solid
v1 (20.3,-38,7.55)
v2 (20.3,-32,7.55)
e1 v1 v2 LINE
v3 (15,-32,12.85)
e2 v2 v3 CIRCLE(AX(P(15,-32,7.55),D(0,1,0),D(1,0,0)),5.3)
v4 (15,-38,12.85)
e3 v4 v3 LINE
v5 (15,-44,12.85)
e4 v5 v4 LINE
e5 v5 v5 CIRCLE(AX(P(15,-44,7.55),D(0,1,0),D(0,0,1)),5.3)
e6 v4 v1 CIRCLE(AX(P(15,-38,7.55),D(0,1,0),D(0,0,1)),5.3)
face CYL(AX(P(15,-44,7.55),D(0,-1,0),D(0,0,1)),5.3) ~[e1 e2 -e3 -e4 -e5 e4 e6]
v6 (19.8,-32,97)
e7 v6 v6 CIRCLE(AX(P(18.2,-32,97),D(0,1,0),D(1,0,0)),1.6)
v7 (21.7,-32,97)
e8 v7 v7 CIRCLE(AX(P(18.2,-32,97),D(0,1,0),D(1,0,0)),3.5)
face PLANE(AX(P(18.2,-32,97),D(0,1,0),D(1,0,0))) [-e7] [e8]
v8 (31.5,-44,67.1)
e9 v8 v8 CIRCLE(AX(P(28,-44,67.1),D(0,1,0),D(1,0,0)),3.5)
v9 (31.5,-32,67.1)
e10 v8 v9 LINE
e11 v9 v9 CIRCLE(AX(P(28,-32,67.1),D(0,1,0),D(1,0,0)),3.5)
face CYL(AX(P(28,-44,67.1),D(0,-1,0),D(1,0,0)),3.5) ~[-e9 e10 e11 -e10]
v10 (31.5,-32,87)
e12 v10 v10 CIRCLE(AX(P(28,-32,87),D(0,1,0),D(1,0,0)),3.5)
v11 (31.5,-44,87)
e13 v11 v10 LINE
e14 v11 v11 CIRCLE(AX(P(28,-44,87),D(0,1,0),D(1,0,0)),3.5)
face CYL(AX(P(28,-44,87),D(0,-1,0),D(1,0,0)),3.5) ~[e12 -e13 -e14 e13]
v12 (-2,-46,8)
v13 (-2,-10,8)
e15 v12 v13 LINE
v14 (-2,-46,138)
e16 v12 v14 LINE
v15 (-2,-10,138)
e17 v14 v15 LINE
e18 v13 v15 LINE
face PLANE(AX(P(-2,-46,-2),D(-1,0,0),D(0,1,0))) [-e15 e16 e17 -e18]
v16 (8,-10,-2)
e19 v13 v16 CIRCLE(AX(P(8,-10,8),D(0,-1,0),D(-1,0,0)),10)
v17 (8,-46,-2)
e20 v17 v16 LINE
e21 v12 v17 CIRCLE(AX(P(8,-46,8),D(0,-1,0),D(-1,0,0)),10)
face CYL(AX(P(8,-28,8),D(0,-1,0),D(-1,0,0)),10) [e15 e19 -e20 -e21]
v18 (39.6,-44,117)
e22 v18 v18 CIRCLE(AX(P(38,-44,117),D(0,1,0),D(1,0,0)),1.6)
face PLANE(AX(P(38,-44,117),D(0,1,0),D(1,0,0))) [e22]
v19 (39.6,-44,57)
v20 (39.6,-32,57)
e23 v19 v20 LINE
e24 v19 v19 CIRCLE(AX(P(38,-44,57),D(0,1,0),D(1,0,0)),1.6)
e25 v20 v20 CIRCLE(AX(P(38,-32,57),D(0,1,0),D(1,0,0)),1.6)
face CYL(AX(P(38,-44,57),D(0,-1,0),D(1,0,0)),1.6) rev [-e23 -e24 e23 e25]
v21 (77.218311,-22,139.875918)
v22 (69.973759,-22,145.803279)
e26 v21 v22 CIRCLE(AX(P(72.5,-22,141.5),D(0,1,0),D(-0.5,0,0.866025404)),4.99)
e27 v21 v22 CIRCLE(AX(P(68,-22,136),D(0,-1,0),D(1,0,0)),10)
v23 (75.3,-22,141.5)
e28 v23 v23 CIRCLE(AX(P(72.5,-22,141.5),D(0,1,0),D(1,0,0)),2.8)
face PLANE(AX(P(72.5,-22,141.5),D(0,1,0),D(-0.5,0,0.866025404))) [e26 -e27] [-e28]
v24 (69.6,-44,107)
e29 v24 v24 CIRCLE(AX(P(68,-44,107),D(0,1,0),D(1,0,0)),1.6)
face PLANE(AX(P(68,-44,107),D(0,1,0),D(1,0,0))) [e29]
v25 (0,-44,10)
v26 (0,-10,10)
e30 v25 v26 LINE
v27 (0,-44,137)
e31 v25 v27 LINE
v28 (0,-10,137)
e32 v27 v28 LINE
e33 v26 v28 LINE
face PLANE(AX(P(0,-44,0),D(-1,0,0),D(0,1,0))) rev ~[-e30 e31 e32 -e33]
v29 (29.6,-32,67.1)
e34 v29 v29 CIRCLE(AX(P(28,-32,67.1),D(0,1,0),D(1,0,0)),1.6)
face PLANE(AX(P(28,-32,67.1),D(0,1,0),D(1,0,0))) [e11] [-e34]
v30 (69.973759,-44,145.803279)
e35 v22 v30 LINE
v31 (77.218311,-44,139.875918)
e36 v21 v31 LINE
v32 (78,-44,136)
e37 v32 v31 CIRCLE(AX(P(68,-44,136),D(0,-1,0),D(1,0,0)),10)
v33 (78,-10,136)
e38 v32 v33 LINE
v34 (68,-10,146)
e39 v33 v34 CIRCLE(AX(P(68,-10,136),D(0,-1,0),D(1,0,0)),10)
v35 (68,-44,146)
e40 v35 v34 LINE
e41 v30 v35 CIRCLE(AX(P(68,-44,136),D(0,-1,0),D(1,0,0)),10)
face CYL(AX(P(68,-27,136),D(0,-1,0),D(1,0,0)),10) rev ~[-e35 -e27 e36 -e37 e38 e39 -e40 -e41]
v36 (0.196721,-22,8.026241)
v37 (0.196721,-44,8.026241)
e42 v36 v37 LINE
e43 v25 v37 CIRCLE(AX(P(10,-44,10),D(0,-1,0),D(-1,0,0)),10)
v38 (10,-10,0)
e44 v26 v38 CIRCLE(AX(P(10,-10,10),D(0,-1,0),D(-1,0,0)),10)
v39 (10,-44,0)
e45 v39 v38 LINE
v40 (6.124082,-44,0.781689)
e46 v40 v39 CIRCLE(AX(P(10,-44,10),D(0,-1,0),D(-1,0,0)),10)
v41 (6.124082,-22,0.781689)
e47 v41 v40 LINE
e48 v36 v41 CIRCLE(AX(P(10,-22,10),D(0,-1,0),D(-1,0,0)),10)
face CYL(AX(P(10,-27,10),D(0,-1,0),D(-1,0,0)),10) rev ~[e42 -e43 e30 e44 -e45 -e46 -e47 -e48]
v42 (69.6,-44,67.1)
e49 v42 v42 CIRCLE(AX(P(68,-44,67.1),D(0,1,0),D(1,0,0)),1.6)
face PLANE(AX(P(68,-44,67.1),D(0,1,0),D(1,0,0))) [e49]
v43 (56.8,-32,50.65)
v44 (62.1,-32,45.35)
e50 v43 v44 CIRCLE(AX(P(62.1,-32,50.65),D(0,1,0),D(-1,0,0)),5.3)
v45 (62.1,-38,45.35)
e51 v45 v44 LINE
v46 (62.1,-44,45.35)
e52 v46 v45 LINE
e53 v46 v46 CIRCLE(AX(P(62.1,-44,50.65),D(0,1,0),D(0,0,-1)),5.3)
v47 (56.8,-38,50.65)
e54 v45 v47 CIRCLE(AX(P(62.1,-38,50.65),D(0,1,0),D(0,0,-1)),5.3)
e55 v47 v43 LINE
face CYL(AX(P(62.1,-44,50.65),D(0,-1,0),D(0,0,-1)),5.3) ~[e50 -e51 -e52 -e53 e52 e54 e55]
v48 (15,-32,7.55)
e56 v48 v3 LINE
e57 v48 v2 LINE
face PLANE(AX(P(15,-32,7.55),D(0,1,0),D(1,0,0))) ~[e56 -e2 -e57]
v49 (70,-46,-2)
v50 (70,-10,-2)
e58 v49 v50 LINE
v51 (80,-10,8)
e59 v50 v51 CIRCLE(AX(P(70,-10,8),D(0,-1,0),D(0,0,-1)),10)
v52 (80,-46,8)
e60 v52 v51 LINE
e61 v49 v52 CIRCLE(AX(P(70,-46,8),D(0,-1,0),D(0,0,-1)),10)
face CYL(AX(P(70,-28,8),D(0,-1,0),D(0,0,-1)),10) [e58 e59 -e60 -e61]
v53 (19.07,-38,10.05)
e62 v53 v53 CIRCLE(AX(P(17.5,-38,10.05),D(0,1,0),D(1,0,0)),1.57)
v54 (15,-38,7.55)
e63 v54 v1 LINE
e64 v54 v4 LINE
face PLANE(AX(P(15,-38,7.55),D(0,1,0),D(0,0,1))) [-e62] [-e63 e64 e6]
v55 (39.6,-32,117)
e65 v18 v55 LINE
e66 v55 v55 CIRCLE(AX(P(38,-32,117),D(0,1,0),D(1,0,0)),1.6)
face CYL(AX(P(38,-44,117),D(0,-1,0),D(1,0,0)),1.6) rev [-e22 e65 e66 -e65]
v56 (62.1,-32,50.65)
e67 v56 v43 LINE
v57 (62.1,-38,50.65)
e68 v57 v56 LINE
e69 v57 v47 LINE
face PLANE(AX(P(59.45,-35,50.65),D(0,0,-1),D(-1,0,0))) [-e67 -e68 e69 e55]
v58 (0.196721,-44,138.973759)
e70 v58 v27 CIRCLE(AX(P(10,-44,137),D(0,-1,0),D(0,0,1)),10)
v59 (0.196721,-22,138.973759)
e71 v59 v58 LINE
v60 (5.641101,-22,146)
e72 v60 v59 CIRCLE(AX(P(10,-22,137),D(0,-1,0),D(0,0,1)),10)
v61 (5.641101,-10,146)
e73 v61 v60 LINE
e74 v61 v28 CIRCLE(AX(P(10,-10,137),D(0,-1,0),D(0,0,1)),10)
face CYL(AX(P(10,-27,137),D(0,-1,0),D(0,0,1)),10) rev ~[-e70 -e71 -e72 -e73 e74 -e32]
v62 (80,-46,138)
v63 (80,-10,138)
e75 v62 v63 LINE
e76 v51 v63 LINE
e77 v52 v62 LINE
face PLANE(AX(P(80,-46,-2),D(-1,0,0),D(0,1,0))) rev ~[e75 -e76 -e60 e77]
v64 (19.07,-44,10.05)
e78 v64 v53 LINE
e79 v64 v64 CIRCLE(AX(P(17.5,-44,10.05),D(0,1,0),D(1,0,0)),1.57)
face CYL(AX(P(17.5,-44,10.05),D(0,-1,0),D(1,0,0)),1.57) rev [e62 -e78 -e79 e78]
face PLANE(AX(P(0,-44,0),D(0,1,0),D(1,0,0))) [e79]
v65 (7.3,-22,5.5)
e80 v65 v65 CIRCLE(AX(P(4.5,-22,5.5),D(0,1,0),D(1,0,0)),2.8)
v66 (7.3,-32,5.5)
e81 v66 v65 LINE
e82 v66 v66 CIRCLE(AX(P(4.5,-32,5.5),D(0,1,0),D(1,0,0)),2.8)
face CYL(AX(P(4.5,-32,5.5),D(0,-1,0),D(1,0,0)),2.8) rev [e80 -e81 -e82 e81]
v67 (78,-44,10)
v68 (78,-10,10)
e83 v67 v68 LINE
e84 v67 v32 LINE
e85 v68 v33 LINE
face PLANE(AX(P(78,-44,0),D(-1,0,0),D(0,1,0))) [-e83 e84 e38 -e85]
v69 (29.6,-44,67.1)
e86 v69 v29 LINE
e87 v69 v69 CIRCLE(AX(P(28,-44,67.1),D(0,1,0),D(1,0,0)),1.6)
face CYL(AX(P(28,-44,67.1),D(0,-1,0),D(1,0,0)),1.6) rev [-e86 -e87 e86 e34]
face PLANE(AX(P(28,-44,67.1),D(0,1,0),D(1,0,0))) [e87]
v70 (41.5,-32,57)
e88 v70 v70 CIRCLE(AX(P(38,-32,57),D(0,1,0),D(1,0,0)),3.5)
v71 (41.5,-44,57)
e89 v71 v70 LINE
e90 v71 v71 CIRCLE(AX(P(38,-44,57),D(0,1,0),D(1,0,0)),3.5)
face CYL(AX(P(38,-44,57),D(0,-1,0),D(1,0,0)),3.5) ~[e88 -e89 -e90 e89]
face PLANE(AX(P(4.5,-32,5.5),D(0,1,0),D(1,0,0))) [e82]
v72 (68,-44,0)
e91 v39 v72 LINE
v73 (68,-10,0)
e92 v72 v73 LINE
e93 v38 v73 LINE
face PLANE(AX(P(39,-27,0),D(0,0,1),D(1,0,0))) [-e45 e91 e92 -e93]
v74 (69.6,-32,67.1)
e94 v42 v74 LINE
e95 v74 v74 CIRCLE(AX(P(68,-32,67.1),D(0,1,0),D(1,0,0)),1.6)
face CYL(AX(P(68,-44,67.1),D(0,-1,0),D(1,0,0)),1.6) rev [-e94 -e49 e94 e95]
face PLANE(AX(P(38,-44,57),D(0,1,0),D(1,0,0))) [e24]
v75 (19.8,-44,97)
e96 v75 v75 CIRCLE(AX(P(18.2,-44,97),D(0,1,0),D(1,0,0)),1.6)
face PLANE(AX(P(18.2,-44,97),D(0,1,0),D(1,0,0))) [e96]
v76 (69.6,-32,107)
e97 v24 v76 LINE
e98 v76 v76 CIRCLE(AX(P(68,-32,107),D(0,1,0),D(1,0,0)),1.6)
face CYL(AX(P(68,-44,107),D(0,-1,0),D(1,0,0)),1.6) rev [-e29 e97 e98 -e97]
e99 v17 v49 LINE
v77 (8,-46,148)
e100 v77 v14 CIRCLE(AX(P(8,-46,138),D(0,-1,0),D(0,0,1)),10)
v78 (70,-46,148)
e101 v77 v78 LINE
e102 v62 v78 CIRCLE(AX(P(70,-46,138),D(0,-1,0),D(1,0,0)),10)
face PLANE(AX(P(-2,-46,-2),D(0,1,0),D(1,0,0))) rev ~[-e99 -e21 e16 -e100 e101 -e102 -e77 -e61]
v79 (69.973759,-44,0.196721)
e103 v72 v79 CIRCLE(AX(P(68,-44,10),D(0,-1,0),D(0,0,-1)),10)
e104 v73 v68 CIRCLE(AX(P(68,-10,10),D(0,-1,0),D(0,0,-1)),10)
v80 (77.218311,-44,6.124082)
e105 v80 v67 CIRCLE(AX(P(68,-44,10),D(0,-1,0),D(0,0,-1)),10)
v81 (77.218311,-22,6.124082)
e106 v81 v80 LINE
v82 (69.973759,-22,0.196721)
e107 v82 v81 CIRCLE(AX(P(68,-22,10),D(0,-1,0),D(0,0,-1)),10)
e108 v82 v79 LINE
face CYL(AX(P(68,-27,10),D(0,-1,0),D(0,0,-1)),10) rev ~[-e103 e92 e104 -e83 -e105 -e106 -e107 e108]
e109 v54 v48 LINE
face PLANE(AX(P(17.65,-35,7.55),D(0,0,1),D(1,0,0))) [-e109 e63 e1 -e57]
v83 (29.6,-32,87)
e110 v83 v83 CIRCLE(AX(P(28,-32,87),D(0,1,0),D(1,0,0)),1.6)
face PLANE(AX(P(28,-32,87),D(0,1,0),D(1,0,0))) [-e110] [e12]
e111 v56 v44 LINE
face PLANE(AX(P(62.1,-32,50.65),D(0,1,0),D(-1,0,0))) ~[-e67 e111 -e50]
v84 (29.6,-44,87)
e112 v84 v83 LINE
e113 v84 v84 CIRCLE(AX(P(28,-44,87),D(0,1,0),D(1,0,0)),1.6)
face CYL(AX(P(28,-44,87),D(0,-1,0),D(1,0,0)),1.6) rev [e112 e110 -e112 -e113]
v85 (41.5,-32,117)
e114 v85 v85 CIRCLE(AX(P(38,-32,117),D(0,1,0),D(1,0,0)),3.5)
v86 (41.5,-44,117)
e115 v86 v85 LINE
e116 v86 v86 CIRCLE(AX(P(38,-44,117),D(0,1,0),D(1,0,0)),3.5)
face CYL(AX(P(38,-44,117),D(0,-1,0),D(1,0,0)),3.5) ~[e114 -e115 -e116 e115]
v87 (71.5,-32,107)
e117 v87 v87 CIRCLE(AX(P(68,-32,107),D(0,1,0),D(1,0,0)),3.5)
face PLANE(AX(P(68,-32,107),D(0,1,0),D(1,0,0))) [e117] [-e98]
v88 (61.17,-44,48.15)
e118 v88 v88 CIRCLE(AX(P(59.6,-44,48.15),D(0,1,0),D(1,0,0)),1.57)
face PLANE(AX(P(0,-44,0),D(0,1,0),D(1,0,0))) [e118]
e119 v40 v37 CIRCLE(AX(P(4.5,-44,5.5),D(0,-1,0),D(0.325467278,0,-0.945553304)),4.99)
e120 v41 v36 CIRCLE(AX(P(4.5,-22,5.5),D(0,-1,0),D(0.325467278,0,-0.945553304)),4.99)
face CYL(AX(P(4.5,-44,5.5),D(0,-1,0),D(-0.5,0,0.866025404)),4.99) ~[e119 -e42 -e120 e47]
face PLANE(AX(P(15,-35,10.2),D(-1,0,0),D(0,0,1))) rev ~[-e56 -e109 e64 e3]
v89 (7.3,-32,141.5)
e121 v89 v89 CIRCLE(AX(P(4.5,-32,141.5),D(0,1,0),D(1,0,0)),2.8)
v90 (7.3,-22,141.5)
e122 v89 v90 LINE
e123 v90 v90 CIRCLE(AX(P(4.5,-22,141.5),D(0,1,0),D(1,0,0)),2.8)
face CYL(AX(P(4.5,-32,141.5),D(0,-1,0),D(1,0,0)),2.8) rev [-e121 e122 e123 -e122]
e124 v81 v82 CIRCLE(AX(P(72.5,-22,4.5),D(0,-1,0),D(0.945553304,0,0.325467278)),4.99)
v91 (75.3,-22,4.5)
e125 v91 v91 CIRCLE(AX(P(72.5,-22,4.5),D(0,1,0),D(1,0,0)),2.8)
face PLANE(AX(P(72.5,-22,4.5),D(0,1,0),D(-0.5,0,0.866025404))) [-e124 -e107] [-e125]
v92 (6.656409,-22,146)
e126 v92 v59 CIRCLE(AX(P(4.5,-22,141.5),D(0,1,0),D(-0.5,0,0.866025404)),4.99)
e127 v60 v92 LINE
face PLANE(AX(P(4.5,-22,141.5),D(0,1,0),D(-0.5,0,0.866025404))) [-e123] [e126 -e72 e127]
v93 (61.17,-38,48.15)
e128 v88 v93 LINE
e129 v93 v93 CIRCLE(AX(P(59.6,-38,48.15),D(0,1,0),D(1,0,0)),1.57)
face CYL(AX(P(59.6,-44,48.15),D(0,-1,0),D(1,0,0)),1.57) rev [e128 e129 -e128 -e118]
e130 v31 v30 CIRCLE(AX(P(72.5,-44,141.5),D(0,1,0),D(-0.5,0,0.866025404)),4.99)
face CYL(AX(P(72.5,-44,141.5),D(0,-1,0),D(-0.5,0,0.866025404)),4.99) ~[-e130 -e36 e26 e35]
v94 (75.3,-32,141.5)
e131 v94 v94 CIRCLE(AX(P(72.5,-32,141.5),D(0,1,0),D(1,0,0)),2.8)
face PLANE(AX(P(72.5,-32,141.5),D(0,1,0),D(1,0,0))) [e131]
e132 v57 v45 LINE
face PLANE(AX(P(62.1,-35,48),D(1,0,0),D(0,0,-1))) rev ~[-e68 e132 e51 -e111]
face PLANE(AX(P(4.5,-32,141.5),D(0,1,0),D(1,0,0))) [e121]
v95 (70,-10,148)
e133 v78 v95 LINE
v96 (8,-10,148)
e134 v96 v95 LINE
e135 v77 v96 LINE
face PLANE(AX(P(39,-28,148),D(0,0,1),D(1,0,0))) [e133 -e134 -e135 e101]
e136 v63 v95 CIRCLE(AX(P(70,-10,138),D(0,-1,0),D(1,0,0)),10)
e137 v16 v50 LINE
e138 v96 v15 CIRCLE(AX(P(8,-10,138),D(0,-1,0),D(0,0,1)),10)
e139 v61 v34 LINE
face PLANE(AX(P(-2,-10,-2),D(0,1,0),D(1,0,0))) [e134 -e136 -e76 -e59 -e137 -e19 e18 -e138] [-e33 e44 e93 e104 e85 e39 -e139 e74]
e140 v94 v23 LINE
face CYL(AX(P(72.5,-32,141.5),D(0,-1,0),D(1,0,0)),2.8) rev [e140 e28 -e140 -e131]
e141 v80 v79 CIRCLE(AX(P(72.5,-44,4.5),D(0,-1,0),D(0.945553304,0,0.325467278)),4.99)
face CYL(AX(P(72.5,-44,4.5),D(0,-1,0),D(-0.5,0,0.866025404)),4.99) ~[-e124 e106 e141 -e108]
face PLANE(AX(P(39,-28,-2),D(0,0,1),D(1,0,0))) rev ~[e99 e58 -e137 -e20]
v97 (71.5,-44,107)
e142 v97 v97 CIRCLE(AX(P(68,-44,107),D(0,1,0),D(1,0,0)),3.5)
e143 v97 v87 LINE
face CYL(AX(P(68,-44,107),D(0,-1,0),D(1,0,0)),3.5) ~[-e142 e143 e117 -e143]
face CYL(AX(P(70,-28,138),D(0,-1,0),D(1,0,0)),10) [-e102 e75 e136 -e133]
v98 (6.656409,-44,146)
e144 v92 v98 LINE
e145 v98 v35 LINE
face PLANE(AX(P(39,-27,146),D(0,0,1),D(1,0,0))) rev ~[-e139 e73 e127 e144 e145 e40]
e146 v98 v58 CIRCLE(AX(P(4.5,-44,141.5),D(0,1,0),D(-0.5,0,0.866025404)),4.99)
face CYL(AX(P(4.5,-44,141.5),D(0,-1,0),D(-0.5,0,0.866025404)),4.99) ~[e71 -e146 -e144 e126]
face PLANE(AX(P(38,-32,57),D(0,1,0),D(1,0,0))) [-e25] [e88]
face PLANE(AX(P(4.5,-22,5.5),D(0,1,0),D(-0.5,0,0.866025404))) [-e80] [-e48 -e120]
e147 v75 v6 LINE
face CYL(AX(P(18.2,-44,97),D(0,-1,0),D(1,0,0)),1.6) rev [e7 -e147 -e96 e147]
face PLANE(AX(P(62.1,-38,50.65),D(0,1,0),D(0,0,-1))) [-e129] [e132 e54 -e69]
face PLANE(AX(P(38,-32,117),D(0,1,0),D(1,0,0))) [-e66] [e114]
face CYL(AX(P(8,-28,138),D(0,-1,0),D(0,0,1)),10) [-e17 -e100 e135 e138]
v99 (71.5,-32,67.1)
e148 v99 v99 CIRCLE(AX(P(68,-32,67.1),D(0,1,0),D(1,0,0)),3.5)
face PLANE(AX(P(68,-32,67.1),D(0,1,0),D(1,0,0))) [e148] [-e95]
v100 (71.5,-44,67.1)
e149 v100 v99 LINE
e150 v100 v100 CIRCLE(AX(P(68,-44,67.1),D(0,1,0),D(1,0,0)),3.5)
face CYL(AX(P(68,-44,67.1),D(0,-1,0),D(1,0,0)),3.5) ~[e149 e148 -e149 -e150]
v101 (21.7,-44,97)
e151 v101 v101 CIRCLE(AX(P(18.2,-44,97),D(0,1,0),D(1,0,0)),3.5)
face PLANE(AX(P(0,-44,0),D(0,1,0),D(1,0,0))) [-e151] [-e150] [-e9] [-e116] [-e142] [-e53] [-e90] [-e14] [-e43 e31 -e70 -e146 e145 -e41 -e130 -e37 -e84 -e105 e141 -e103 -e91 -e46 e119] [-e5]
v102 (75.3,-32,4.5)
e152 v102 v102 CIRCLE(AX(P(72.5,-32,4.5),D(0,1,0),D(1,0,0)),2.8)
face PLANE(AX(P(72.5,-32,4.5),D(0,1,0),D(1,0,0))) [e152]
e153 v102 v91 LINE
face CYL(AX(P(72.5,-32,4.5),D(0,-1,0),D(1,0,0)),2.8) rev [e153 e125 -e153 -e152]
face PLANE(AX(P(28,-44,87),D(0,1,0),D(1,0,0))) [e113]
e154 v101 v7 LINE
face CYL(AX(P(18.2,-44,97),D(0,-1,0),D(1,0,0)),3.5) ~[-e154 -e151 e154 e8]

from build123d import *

# Parameters (mm, degrees)
CYLINDER075_R               = 2.8
CYLINDER075_DEPTH           = 10
CYLINDER074_R               = 4.99
CYLINDER074_DEPTH           = 22
CYLINDER074_ROLL_ANGLE      = 90
CYLINDER074_PITCH_ANGLE     = -60
CYLINDER074_PLACEMENT_ANGLE = 180
CYLINDER077_R               = 2.8
CYLINDER077_DEPTH           = 10
CYLINDER076_R               = 4.99
CYLINDER076_DEPTH           = 22
CYLINDER076_ROLL_ANGLE      = 90
CYLINDER076_PITCH_ANGLE     = -60
CYLINDER076_PLACEMENT_ANGLE = 180
CYLINDER079_R               = 2.8
CYLINDER079_DEPTH           = 10
CYLINDER078_R               = 4.99
CYLINDER078_DEPTH           = 22
CYLINDER078_ROLL_ANGLE      = 90
CYLINDER078_PITCH_ANGLE     = -60
CYLINDER078_PLACEMENT_ANGLE = 180
CYLINDER054_R               = 1.6
CYLINDER054_DEPTH           = 12
CYLINDER055_R               = 1.6
CYLINDER055_DEPTH           = 12
CYLINDER056_R               = 1.6
CYLINDER056_DEPTH           = 12
CYLINDER057_R               = 1.6
CYLINDER057_DEPTH           = 12
CYLINDER058_R               = 1.6
CYLINDER058_DEPTH           = 12
CYLINDER059_R               = 1.6
CYLINDER059_DEPTH           = 12
CYLINDER060_R               = 1.6
CYLINDER060_DEPTH           = 12
CYLINDER061_R               = 1.6
CYLINDER061_DEPTH           = 12
CYLINDER062_R               = 3.5
CYLINDER062_DEPTH           = 12
CYLINDER063_R               = 3.5
CYLINDER063_DEPTH           = 12
CYLINDER064_R               = 3.5
CYLINDER064_DEPTH           = 12
CYLINDER065_R               = 3.5
CYLINDER065_DEPTH           = 12
CYLINDER066_R               = 3.5
CYLINDER066_DEPTH           = 12
CYLINDER067_R               = 3.5
CYLINDER067_DEPTH           = 12
CYLINDER068_R               = 3.5
CYLINDER068_DEPTH           = 12
CYLINDER051_R               = 1.57
CYLINDER051_DEPTH           = 6
CYLINDER050_R               = 5.3
CYLINDER050_DEPTH           = 6
CYLINDER052_W               = 5.3
CYLINDER052_H               = 6
CYLINDER052_ANGLE           = 270
CYLINDER053_W               = 5.3
CYLINDER053_H               = 6
CYLINDER053_ANGLE           = 270
CYLINDER045_W               = 10
CYLINDER045_H               = 34
CYLINDER045_ANGLE           = 90
BOX035_W                    = 10
BOX035_H                    = 34
BOX035_DEPTH                = 10
CUT031_PLACEMENT_ANGLE      = 180
CYLINDER046_W               = 10
CYLINDER046_H               = 34
CYLINDER046_ANGLE           = 90
BOX036_W                    = 10
BOX036_H                    = 34
BOX036_DEPTH                = 10
CUT032_PLACEMENT_ANGLE      = 180
CYLINDER047_W               = 10
CYLINDER047_H               = 34
CYLINDER047_ANGLE           = 90
BOX037_W                    = 10
BOX037_H                    = 34
BOX037_DEPTH                = 10
CUT033_PITCH_ANGLE          = -90
CUT033_PLACEMENT_ANGLE      = -180
CYLINDER044_W               = 10
CYLINDER044_H               = 34
CYLINDER044_ANGLE           = 90
BOX033_W                    = 10
BOX033_H                    = 34
BOX033_DEPTH                = 10
CUT030_PITCH_ANGLE          = 90
CUT030_PLACEMENT_ANGLE      = -180
BOX034_W                    = 78
BOX034_H                    = 34
BOX034_DEPTH                = 146
CYLINDER041_W               = 10
CYLINDER041_H               = 36
CYLINDER041_ANGLE           = 90
BOX030_W                    = 10
BOX030_H                    = 36
BOX030_DEPTH                = 10
CUT026_PLACEMENT_ANGLE      = 180
CYLINDER042_W               = 10
CYLINDER042_H               = 36
CYLINDER042_ANGLE           = 90
BOX031_W                    = 10
BOX031_H                    = 36
BOX031_DEPTH                = 10
CUT027_PLACEMENT_ANGLE      = 180
CYLINDER043_W               = 10
CYLINDER043_H               = 36
CYLINDER043_ANGLE           = 90
BOX032_W                    = 10
BOX032_H                    = 36
BOX032_DEPTH                = 10
CUT028_PITCH_ANGLE          = -90
CUT028_PLACEMENT_ANGLE      = -180
CYLINDER040_W               = 10
CYLINDER040_H               = 36
CYLINDER040_ANGLE           = 90
BOX028_W                    = 10
BOX028_H                    = 36
BOX028_DEPTH                = 10
CUT025_PITCH_ANGLE          = 90
CUT025_PLACEMENT_ANGLE      = -180
BOX029_W                    = 82
BOX029_H                    = 36
BOX029_DEPTH                = 150
CUT035_PLACEMENT_ANGLE      = 180
CYLINDER048_R               = 1.57
CYLINDER048_DEPTH           = 6
CYLINDER049_R               = 5.3
CYLINDER049_DEPTH           = 6
CYLINDER069_R               = 3.5
CYLINDER069_DEPTH           = 12
CYLINDER073_R               = 2.8
CYLINDER073_DEPTH           = 10
CYLINDER072_R               = 4.99
CYLINDER072_DEPTH           = 22
CYLINDER072_ROLL_ANGLE      = 90
CYLINDER072_PITCH_ANGLE     = -60
CYLINDER072_PLACEMENT_ANGLE = -180


with BuildPart() as m4heatsetcut001:
    # Cylinder075 → Cylinder075 (new body)
    with BuildSketch(Plane(origin=(4.5, -32, 141.5), x_dir=(1, 0, 0), z_dir=(0, 1, 0))):
        Circle(CYLINDER075_R)
    extrude(amount=CYLINDER075_DEPTH)


with BuildPart() as m4heatsetholes001:
    # Cylinder074 → Cylinder074 (new body)
    with BuildSketch(Plane.XY):
        Circle(CYLINDER074_R)
    extrude(amount=CYLINDER074_DEPTH)


with BuildPart() as m4heatsetholes001_1:
    # Cylinder074 roll: moved
    add(m4heatsetholes001.part.rotate(Axis((0, 0, 0), (1, 0, 0)), CYLINDER074_ROLL_ANGLE))


with BuildPart() as m4heatsetholes001_2:
    # Cylinder074 pitch: moved
    add(m4heatsetholes001_1.part.rotate(Axis((0, 0, 0), (0, 1, 0)), CYLINDER074_PITCH_ANGLE))


with BuildPart() as m4heatsetholes001_3:
    # Cylinder074 placement: moved
    add(m4heatsetholes001_2.part.moved(Location((4.5, -44, 141.5))).rotate(Axis((4.5, -44, 141.5), (0, 0, 1)), CYLINDER074_PLACEMENT_ANGLE))

    # Cut040: cut m4HeatSetCut001
    add(m4heatsetcut001.part, mode=Mode.SUBTRACT)


with BuildPart() as m4heatsetholes001_4:
    # Cut040 placement: moved
    add(m4heatsetholes001_3.part.moved(Location((68, 0, 0))))


with BuildPart() as m4heatsetcut002:
    # Cylinder077 → Cylinder077 (new body)
    with BuildSketch(Plane(origin=(4.5, -32, 141.5), x_dir=(1, 0, 0), z_dir=(0, 1, 0))):
        Circle(CYLINDER077_R)
    extrude(amount=CYLINDER077_DEPTH)


with BuildPart() as m4heatsetholes002:
    # Cylinder076 → Cylinder076 (new body)
    with BuildSketch(Plane.XY):
        Circle(CYLINDER076_R)
    extrude(amount=CYLINDER076_DEPTH)


with BuildPart() as m4heatsetholes002_1:
    # Cylinder076 roll: moved
    add(m4heatsetholes002.part.rotate(Axis((0, 0, 0), (1, 0, 0)), CYLINDER076_ROLL_ANGLE))


with BuildPart() as m4heatsetholes002_2:
    # Cylinder076 pitch: moved
    add(m4heatsetholes002_1.part.rotate(Axis((0, 0, 0), (0, 1, 0)), CYLINDER076_PITCH_ANGLE))


with BuildPart() as m4heatsetholes002_3:
    # Cylinder076 placement: moved
    add(m4heatsetholes002_2.part.moved(Location((4.5, -44, 141.5))).rotate(Axis((4.5, -44, 141.5), (0, 0, 1)), CYLINDER076_PLACEMENT_ANGLE))

    # Cut041: cut m4HeatSetCut002
    add(m4heatsetcut002.part, mode=Mode.SUBTRACT)


with BuildPart() as m4heatsetholes002_4:
    # Cut041 placement: moved
    add(m4heatsetholes002_3.part.moved(Location((0, 0, -136))))


with BuildPart() as m4heatsetcut003:
    # Cylinder079 → Cylinder079 (new body)
    with BuildSketch(Plane(origin=(4.5, -32, 141.5), x_dir=(1, 0, 0), z_dir=(0, 1, 0))):
        Circle(CYLINDER079_R)
    extrude(amount=CYLINDER079_DEPTH)


with BuildPart() as m4heatsetholes003:
    # Cylinder078 → Cylinder078 (new body)
    with BuildSketch(Plane.XY):
        Circle(CYLINDER078_R)
    extrude(amount=CYLINDER078_DEPTH)


with BuildPart() as m4heatsetholes003_1:
    # Cylinder078 roll: moved
    add(m4heatsetholes003.part.rotate(Axis((0, 0, 0), (1, 0, 0)), CYLINDER078_ROLL_ANGLE))


with BuildPart() as m4heatsetholes003_2:
    # Cylinder078 pitch: moved
    add(m4heatsetholes003_1.part.rotate(Axis((0, 0, 0), (0, 1, 0)), CYLINDER078_PITCH_ANGLE))


with BuildPart() as m4heatsetholes003_3:
    # Cylinder078 placement: moved
    add(m4heatsetholes003_2.part.moved(Location((4.5, -44, 141.5))).rotate(Axis((4.5, -44, 141.5), (0, 0, 1)), CYLINDER078_PLACEMENT_ANGLE))

    # Cut042: cut m4HeatSetCut003
    add(m4heatsetcut003.part, mode=Mode.SUBTRACT)


with BuildPart() as m4heatsetholes003_4:
    # Cut042 placement: moved
    add(m4heatsetholes003_3.part.moved(Location((68, 0, -137))))


with BuildPart() as m2heatset001:
    # Cylinder054 → Cylinder054 (new body)
    with BuildSketch(Plane(origin=(8, -44, 67.1), x_dir=(1, 0, 0), z_dir=(0, 1, 0))):
        Circle(CYLINDER054_R)
    extrude(amount=CYLINDER054_DEPTH)


with BuildPart() as m2heatset002:
    # Cylinder055 → Cylinder055 (new body)
    with BuildSketch(Plane(origin=(28, -44, 67.1), x_dir=(1, 0, 0), z_dir=(0, 1, 0))):
        Circle(CYLINDER055_R)
    extrude(amount=CYLINDER055_DEPTH)


with BuildPart() as m2heatset003:
    # Cylinder056 → Cylinder056 (new body)
    with BuildSketch(Plane(origin=(68, -44, 67.1), x_dir=(1, 0, 0), z_dir=(0, 1, 0))):
        Circle(CYLINDER056_R)
    extrude(amount=CYLINDER056_DEPTH)


with BuildPart() as m2heatset004:
    # Cylinder057 → Cylinder057 (new body)
    with BuildSketch(Plane(origin=(18.2, -44, 97), x_dir=(1, 0, 0), z_dir=(0, 1, 0))):
        Circle(CYLINDER057_R)
    extrude(amount=CYLINDER057_DEPTH)


with BuildPart() as m2heatset005:
    # Cylinder058 → Cylinder058 (new body)
    with BuildSketch(Plane(origin=(28, -44, 87), x_dir=(1, 0, 0), z_dir=(0, 1, 0))):
        Circle(CYLINDER058_R)
    extrude(amount=CYLINDER058_DEPTH)


with BuildPart() as m2heatset006:
    # Cylinder059 → Cylinder059 (new body)
    with BuildSketch(Plane(origin=(38, -44, 117), x_dir=(1, 0, 0), z_dir=(0, 1, 0))):
        Circle(CYLINDER059_R)
    extrude(amount=CYLINDER059_DEPTH)


with BuildPart() as m2heatset007:
    # Cylinder060 → Cylinder060 (new body)
    with BuildSketch(Plane(origin=(38, -44, 57), x_dir=(1, 0, 0), z_dir=(0, 1, 0))):
        Circle(CYLINDER060_R)
    extrude(amount=CYLINDER060_DEPTH)


with BuildPart() as m2heatset008:
    # Cylinder061 → Cylinder061 (new body)
    with BuildSketch(Plane(origin=(68, -44, 107), x_dir=(1, 0, 0), z_dir=(0, 1, 0))):
        Circle(CYLINDER061_R)
    extrude(amount=CYLINDER061_DEPTH)


with BuildPart() as m2heatsetcuts:
    # Cylinder062 → Cylinder062 (new body)
    with BuildSketch(Plane(origin=(8, -44, 67.1), x_dir=(1, 0, 0), z_dir=(0, 1, 0))):
        Circle(CYLINDER062_R)
    extrude(amount=CYLINDER062_DEPTH)

    # Fusion021: union m2HeatSet001, m2HeatSet002, m2HeatSet003, m2HeatSet004, m2HeatSet005, m2HeatSet006, m2HeatSet007, m2HeatSet008
    add(m2heatset001.part)
    add(m2heatset002.part)
    add(m2heatset003.part)
    add(m2heatset004.part)
    add(m2heatset005.part)
    add(m2heatset006.part)
    add(m2heatset007.part)
    add(m2heatset008.part)


with BuildPart() as m2heatsetout001:
    # Cylinder063 → Cylinder063 (new body)
    with BuildSketch(Plane(origin=(28, -44, 67.1), x_dir=(1, 0, 0), z_dir=(0, 1, 0))):
        Circle(CYLINDER063_R)
    extrude(amount=CYLINDER063_DEPTH)


with BuildPart() as m2heatsetout002:
    # Cylinder064 → Cylinder064 (new body)
    with BuildSketch(Plane(origin=(18.2, -44, 97), x_dir=(1, 0, 0), z_dir=(0, 1, 0))):
        Circle(CYLINDER064_R)
    extrude(amount=CYLINDER064_DEPTH)


with BuildPart() as m2heatsetout003:
    # Cylinder065 → Cylinder065 (new body)
    with BuildSketch(Plane(origin=(68, -44, 67.1), x_dir=(1, 0, 0), z_dir=(0, 1, 0))):
        Circle(CYLINDER065_R)
    extrude(amount=CYLINDER065_DEPTH)


with BuildPart() as m2heatsetout004:
    # Cylinder066 → Cylinder066 (new body)
    with BuildSketch(Plane(origin=(28, -44, 87), x_dir=(1, 0, 0), z_dir=(0, 1, 0))):
        Circle(CYLINDER066_R)
    extrude(amount=CYLINDER066_DEPTH)


with BuildPart() as m2heatsetout005:
    # Cylinder067 → Cylinder067 (new body)
    with BuildSketch(Plane(origin=(38, -44, 57), x_dir=(1, 0, 0), z_dir=(0, 1, 0))):
        Circle(CYLINDER067_R)
    extrude(amount=CYLINDER067_DEPTH)


with BuildPart() as m2heatsetout006:
    # Cylinder068 → Cylinder068 (new body)
    with BuildSketch(Plane(origin=(68, -44, 107), x_dir=(1, 0, 0), z_dir=(0, 1, 0))):
        Circle(CYLINDER068_R)
    extrude(amount=CYLINDER068_DEPTH)


with BuildPart() as cylinder051:
    # Cylinder051 → Cylinder051 (new body)
    with BuildSketch(Plane(origin=(59.6, -44, 48.15), x_dir=(1, 0, 0), z_dir=(0, 1, 0))):
        Circle(CYLINDER051_R)
    extrude(amount=CYLINDER051_DEPTH)


with BuildPart() as cut037:
    # Cylinder050 → Cylinder050 (new body)
    with BuildSketch(Plane(origin=(62.1, -44, 50.65), x_dir=(0, 0, -1), z_dir=(0, 1, 0))):
        Circle(CYLINDER050_R)
    extrude(amount=CYLINDER050_DEPTH)

    # Cut037: cut Cylinder051
    add(cylinder051.part, mode=Mode.SUBTRACT)


with BuildPart() as cylinder052:
    # Cylinder052 → Cylinder052 (revolve)
    with BuildSketch(Plane(origin=(15, -38, 7.55), x_dir=(1, 0, 0), z_dir=(0, 0, 1))):
        with Locations((2.65, 3)):
            Rectangle(CYLINDER052_W, CYLINDER052_H)
    revolve(axis=Axis((15, -38, 7.55), (0, 1, 0)), revolution_arc=CYLINDER052_ANGLE)


with BuildPart() as cylinder053:
    # Cylinder053 → Cylinder053 (revolve)
    with BuildSketch(Plane(origin=(62.1, -38, 50.65), x_dir=(-1, 0, 0), z_dir=(0, 0, -1))):
        with Locations((2.65, 3)):
            Rectangle(CYLINDER053_W, CYLINDER053_H)
    revolve(axis=Axis((62.1, -38, 50.65), (0, 1, 0)), revolution_arc=CYLINDER053_ANGLE)


with BuildPart() as cylinder045:
    # Cylinder045 → Cylinder045 (revolve)
    with BuildSketch(Plane(origin=(0, 26, 0), x_dir=(1, 0, 0), z_dir=(0, 0, -1))):
        with Locations((5, 17)):
            Rectangle(CYLINDER045_W, CYLINDER045_H)
    revolve(axis=Axis((0, 26, 0), (0, -1, 0)), revolution_arc=CYLINDER045_ANGLE)


with BuildPart() as cut031:
    # Box035 → Box035 (new body)
    with BuildSketch(Plane(origin=(0, -8, 0), x_dir=(1, 0, 0), z_dir=(0, 0, 1))):
        with Locations((5, 17)):
            Rectangle(BOX035_W, BOX035_H)
    extrude(amount=BOX035_DEPTH)

    # Cut031: cut Cylinder045
    add(cylinder045.part, mode=Mode.SUBTRACT)


with BuildPart() as cut031_1:
    # Cut031 placement: moved
    add(cut031.part.moved(Location((70, 18, 8))).rotate(Axis((70, 18, 8), (1, 0, 0)), CUT031_PLACEMENT_ANGLE))


with BuildPart() as cylinder046:
    # Cylinder046 → Cylinder046 (revolve)
    with BuildSketch(Plane(origin=(0, 26, 0), x_dir=(1, 0, 0), z_dir=(0, 0, -1))):
        with Locations((5, 17)):
            Rectangle(CYLINDER046_W, CYLINDER046_H)
    revolve(axis=Axis((0, 26, 0), (0, -1, 0)), revolution_arc=CYLINDER046_ANGLE)


with BuildPart() as cut032:
    # Box036 → Box036 (new body)
    with BuildSketch(Plane(origin=(0, -8, 0), x_dir=(1, 0, 0), z_dir=(0, 0, 1))):
        with Locations((5, 17)):
            Rectangle(BOX036_W, BOX036_H)
    extrude(amount=BOX036_DEPTH)

    # Cut032: cut Cylinder046
    add(cylinder046.part, mode=Mode.SUBTRACT)


with BuildPart() as cut032_1:
    # Cut032 placement: moved
    add(cut032.part.moved(Location((12, 18, 134))).rotate(Axis((12, 18, 134), (0, 0, 1)), CUT032_PLACEMENT_ANGLE))


with BuildPart() as cylinder047:
    # Cylinder047 → Cylinder047 (revolve)
    with BuildSketch(Plane(origin=(0, 26, 0), x_dir=(1, 0, 0), z_dir=(0, 0, -1))):
        with Locations((5, 17)):
            Rectangle(CYLINDER047_W, CYLINDER047_H)
    revolve(axis=Axis((0, 26, 0), (0, -1, 0)), revolution_arc=CYLINDER047_ANGLE)


with BuildPart() as cut033:
    # Box037 → Box037 (new body)
    with BuildSketch(Plane(origin=(0, -8, 0), x_dir=(1, 0, 0), z_dir=(0, 0, 1))):
        with Locations((5, 17)):
            Rectangle(BOX037_W, BOX037_H)
    extrude(amount=BOX037_DEPTH)

    # Cut033: cut Cylinder047
    add(cylinder047.part, mode=Mode.SUBTRACT)


with BuildPart() as cut033_1:
    # Cut033 pitch: moved
    add(cut033.part.rotate(Axis((0, 0, 0), (0, 1, 0)), CUT033_PITCH_ANGLE))


with BuildPart() as cut033_2:
    # Cut033 placement: moved
    add(cut033_1.part.moved(Location((70, 18, 135))).rotate(Axis((70, 18, 135), (0, 0, 1)), CUT033_PLACEMENT_ANGLE))


with BuildPart() as cylinder044:
    # Cylinder044 → Cylinder044 (revolve)
    with BuildSketch(Plane(origin=(0, 26, 0), x_dir=(1, 0, 0), z_dir=(0, 0, -1))):
        with Locations((5, 17)):
            Rectangle(CYLINDER044_W, CYLINDER044_H)
    revolve(axis=Axis((0, 26, 0), (0, -1, 0)), revolution_arc=CYLINDER044_ANGLE)


with BuildPart() as fusion018:
    # Box033 → Box033 (new body)
    with BuildSketch(Plane(origin=(0, -8, 0), x_dir=(1, 0, 0), z_dir=(0, 0, 1))):
        with Locations((5, 17)):
            Rectangle(BOX033_W, BOX033_H)
    extrude(amount=BOX033_DEPTH)

    # Cut030: cut Cylinder044
    add(cylinder044.part, mode=Mode.SUBTRACT)


with BuildPart() as fusion018_1:
    # Cut030 pitch: moved
    add(fusion018.part.rotate(Axis((0, 0, 0), (0, 1, 0)), CUT030_PITCH_ANGLE))


with BuildPart() as fusion018_2:
    # Cut030 placement: moved
    add(fusion018_1.part.moved(Location((12, 18, 8))).rotate(Axis((12, 18, 8), (0, 0, 1)), CUT030_PLACEMENT_ANGLE))

    # Fusion018: union Cut031, Cut032, Cut033
    add(cut031_1.part)
    add(cut032_1.part)
    add(cut033_2.part)


with BuildPart() as baseout003:
    # Box034 → Box034 (new body)
    with BuildSketch(Plane(origin=(80, 26, -2), x_dir=(-1, 0, 0), z_dir=(0, 0, 1))):
        with Locations((39, 17)):
            Rectangle(BOX034_W, BOX034_H)
    extrude(amount=BOX034_DEPTH)

    # Cut034: cut Fusion018
    add(fusion018_2.part, mode=Mode.SUBTRACT)


with BuildPart() as baseout003_1:
    # Cut034 placement: moved
    add(baseout003.part.moved(Location((-2, -2, 2))))


with BuildPart() as cylinder041:
    # Cylinder041 → Cylinder041 (revolve)
    with BuildSketch(Plane(origin=(0, 26, 0), x_dir=(1, 0, 0), z_dir=(0, 0, -1))):
        with Locations((5, 18)):
            Rectangle(CYLINDER041_W, CYLINDER041_H)
    revolve(axis=Axis((0, 26, 0), (0, -1, 0)), revolution_arc=CYLINDER041_ANGLE)


with BuildPart() as cut026:
    # Box030 → Box030 (new body)
    with BuildSketch(Plane(origin=(0, -10, 0), x_dir=(1, 0, 0), z_dir=(0, 0, 1))):
        with Locations((5, 18)):
            Rectangle(BOX030_W, BOX030_H)
    extrude(amount=BOX030_DEPTH)

    # Cut026: cut Cylinder041
    add(cylinder041.part, mode=Mode.SUBTRACT)


with BuildPart() as cut026_1:
    # Cut026 placement: moved
    add(cut026.part.moved(Location((70, 18, 8))).rotate(Axis((70, 18, 8), (1, 0, 0)), CUT026_PLACEMENT_ANGLE))


with BuildPart() as cylinder042:
    # Cylinder042 → Cylinder042 (revolve)
    with BuildSketch(Plane(origin=(0, 26, 0), x_dir=(1, 0, 0), z_dir=(0, 0, -1))):
        with Locations((5, 18)):
            Rectangle(CYLINDER042_W, CYLINDER042_H)
    revolve(axis=Axis((0, 26, 0), (0, -1, 0)), revolution_arc=CYLINDER042_ANGLE)


with BuildPart() as cut027:
    # Box031 → Box031 (new body)
    with BuildSketch(Plane(origin=(0, -10, 0), x_dir=(1, 0, 0), z_dir=(0, 0, 1))):
        with Locations((5, 18)):
            Rectangle(BOX031_W, BOX031_H)
    extrude(amount=BOX031_DEPTH)

    # Cut027: cut Cylinder042
    add(cylinder042.part, mode=Mode.SUBTRACT)


with BuildPart() as cut027_1:
    # Cut027 placement: moved
    add(cut027.part.moved(Location((8, 18, 138))).rotate(Axis((8, 18, 138), (0, 0, 1)), CUT027_PLACEMENT_ANGLE))


with BuildPart() as cylinder043:
    # Cylinder043 → Cylinder043 (revolve)
    with BuildSketch(Plane(origin=(0, 26, 0), x_dir=(1, 0, 0), z_dir=(0, 0, -1))):
        with Locations((5, 18)):
            Rectangle(CYLINDER043_W, CYLINDER043_H)
    revolve(axis=Axis((0, 26, 0), (0, -1, 0)), revolution_arc=CYLINDER043_ANGLE)


with BuildPart() as cut028:
    # Box032 → Box032 (new body)
    with BuildSketch(Plane(origin=(0, -10, 0), x_dir=(1, 0, 0), z_dir=(0, 0, 1))):
        with Locations((5, 18)):
            Rectangle(BOX032_W, BOX032_H)
    extrude(amount=BOX032_DEPTH)

    # Cut028: cut Cylinder043
    add(cylinder043.part, mode=Mode.SUBTRACT)


with BuildPart() as cut028_1:
    # Cut028 pitch: moved
    add(cut028.part.rotate(Axis((0, 0, 0), (0, 1, 0)), CUT028_PITCH_ANGLE))


with BuildPart() as cut028_2:
    # Cut028 placement: moved
    add(cut028_1.part.moved(Location((70, 18, 138))).rotate(Axis((70, 18, 138), (0, 0, 1)), CUT028_PLACEMENT_ANGLE))


with BuildPart() as cylinder040:
    # Cylinder040 → Cylinder040 (revolve)
    with BuildSketch(Plane(origin=(0, 26, 0), x_dir=(1, 0, 0), z_dir=(0, 0, -1))):
        with Locations((5, 18)):
            Rectangle(CYLINDER040_W, CYLINDER040_H)
    revolve(axis=Axis((0, 26, 0), (0, -1, 0)), revolution_arc=CYLINDER040_ANGLE)


with BuildPart() as fusion017:
    # Box028 → Box028 (new body)
    with BuildSketch(Plane(origin=(0, -10, 0), x_dir=(1, 0, 0), z_dir=(0, 0, 1))):
        with Locations((5, 18)):
            Rectangle(BOX028_W, BOX028_H)
    extrude(amount=BOX028_DEPTH)

    # Cut025: cut Cylinder040
    add(cylinder040.part, mode=Mode.SUBTRACT)


with BuildPart() as fusion017_1:
    # Cut025 pitch: moved
    add(fusion017.part.rotate(Axis((0, 0, 0), (0, 1, 0)), CUT025_PITCH_ANGLE))


with BuildPart() as fusion017_2:
    # Cut025 placement: moved
    add(fusion017_1.part.moved(Location((8, 18, 8))).rotate(Axis((8, 18, 8), (0, 0, 1)), CUT025_PLACEMENT_ANGLE))

    # Fusion017: union Cut026, Cut027, Cut028
    add(cut026_1.part)
    add(cut027_1.part)
    add(cut028_2.part)


with BuildPart() as fusion017_3:
    # Fusion017 placement: moved
    add(fusion017_2.part.moved(Location((0, -2, 0))))


with BuildPart() as basetop:
    # Box029 → Box029 (new body)
    with BuildSketch(Plane(origin=(80, 26, -2), x_dir=(-1, 0, 0), z_dir=(0, 0, 1))):
        with Locations((41, 18)):
            Rectangle(BOX029_W, BOX029_H)
    extrude(amount=BOX029_DEPTH)

    # Cut029: cut Fusion017
    add(fusion017_3.part, mode=Mode.SUBTRACT)

    # Cut035: cut BaseOut003
    add(baseout003_1.part, mode=Mode.SUBTRACT)


with BuildPart() as basetop_1:
    # Cut035 placement: moved
    add(basetop.part.moved(Location((78, -20, 0))).rotate(Axis((78, -20, 0), (0, 0, 1)), CUT035_PLACEMENT_ANGLE))


with BuildPart() as cylinder048:
    # Cylinder048 → Cylinder048 (new body)
    with BuildSketch(Plane(origin=(17.5, -44, 10.05), x_dir=(1, 0, 0), z_dir=(0, 1, 0))):
        Circle(CYLINDER048_R)
    extrude(amount=CYLINDER048_DEPTH)


with BuildPart() as basetop001:
    # Cylinder049 → Cylinder049 (new body)
    with BuildSketch(Plane(origin=(15, -44, 7.55), x_dir=(0, 0, 1), z_dir=(0, 1, 0))):
        Circle(CYLINDER049_R)
    extrude(amount=CYLINDER049_DEPTH)

    # Cut036: cut Cylinder048
    add(cylinder048.part, mode=Mode.SUBTRACT)

    # Fusion019: union Cut037, Cylinder052, Cylinder053, baseTop
    add(cut037.part)
    add(cylinder052.part)
    add(cylinder053.part)
    add(basetop_1.part)


with BuildPart() as basetop003:
    # Cylinder069 → Cylinder069 (new body)
    with BuildSketch(Plane(origin=(38, -44, 117), x_dir=(1, 0, 0), z_dir=(0, 1, 0))):
        Circle(CYLINDER069_R)
    extrude(amount=CYLINDER069_DEPTH)

    # Fusion020: union m2HeatSetOut001, m2HeatSetOut002, m2HeatSetOut003, m2HeatSetOut004, m2HeatSetOut005, m2HeatSetOut006, baseTop001
    add(m2heatsetout001.part)
    add(m2heatsetout002.part)
    add(m2heatsetout003.part)
    add(m2heatsetout004.part)
    add(m2heatsetout005.part)
    add(m2heatsetout006.part)
    add(basetop001.part)

    # Cut038: cut m2HeatSetCuts
    add(m2heatsetcuts.part, mode=Mode.SUBTRACT)


with BuildPart() as m4heatsetcut:
    # Cylinder073 → Cylinder073 (new body)
    with BuildSketch(Plane(origin=(4.5, -32, 141.5), x_dir=(1, 0, 0), z_dir=(0, 1, 0))):
        Circle(CYLINDER073_R)
    extrude(amount=CYLINDER073_DEPTH)


with BuildPart() as basetop004:
    # Cylinder072 → Cylinder072 (new body)
    with BuildSketch(Plane.XY):
        Circle(CYLINDER072_R)
    extrude(amount=CYLINDER072_DEPTH)


with BuildPart() as basetop004_1:
    # Cylinder072 roll: moved
    add(basetop004.part.rotate(Axis((0, 0, 0), (1, 0, 0)), CYLINDER072_ROLL_ANGLE))


with BuildPart() as basetop004_2:
    # Cylinder072 pitch: moved
    add(basetop004_1.part.rotate(Axis((0, 0, 0), (0, 1, 0)), CYLINDER072_PITCH_ANGLE))


with BuildPart() as basetop004_3:
    # Cylinder072 placement: moved
    add(basetop004_2.part.moved(Location((4.5, -44, 141.5))).rotate(Axis((4.5, -44, 141.5), (0, 0, 1)), CYLINDER072_PLACEMENT_ANGLE))

    # Cut039: cut m4HeatSetCut
    add(m4heatsetcut.part, mode=Mode.SUBTRACT)

    # Fusion023: union m4HeatSetHoles001, m4HeatSetHoles002, m4HeatSetHoles003, baseTop003
    add(m4heatsetholes001_4.part)
    add(m4heatsetholes002_4.part)
    add(m4heatsetholes003_4.part)
    add(basetop003.part)


solid = basetop004_3.part
